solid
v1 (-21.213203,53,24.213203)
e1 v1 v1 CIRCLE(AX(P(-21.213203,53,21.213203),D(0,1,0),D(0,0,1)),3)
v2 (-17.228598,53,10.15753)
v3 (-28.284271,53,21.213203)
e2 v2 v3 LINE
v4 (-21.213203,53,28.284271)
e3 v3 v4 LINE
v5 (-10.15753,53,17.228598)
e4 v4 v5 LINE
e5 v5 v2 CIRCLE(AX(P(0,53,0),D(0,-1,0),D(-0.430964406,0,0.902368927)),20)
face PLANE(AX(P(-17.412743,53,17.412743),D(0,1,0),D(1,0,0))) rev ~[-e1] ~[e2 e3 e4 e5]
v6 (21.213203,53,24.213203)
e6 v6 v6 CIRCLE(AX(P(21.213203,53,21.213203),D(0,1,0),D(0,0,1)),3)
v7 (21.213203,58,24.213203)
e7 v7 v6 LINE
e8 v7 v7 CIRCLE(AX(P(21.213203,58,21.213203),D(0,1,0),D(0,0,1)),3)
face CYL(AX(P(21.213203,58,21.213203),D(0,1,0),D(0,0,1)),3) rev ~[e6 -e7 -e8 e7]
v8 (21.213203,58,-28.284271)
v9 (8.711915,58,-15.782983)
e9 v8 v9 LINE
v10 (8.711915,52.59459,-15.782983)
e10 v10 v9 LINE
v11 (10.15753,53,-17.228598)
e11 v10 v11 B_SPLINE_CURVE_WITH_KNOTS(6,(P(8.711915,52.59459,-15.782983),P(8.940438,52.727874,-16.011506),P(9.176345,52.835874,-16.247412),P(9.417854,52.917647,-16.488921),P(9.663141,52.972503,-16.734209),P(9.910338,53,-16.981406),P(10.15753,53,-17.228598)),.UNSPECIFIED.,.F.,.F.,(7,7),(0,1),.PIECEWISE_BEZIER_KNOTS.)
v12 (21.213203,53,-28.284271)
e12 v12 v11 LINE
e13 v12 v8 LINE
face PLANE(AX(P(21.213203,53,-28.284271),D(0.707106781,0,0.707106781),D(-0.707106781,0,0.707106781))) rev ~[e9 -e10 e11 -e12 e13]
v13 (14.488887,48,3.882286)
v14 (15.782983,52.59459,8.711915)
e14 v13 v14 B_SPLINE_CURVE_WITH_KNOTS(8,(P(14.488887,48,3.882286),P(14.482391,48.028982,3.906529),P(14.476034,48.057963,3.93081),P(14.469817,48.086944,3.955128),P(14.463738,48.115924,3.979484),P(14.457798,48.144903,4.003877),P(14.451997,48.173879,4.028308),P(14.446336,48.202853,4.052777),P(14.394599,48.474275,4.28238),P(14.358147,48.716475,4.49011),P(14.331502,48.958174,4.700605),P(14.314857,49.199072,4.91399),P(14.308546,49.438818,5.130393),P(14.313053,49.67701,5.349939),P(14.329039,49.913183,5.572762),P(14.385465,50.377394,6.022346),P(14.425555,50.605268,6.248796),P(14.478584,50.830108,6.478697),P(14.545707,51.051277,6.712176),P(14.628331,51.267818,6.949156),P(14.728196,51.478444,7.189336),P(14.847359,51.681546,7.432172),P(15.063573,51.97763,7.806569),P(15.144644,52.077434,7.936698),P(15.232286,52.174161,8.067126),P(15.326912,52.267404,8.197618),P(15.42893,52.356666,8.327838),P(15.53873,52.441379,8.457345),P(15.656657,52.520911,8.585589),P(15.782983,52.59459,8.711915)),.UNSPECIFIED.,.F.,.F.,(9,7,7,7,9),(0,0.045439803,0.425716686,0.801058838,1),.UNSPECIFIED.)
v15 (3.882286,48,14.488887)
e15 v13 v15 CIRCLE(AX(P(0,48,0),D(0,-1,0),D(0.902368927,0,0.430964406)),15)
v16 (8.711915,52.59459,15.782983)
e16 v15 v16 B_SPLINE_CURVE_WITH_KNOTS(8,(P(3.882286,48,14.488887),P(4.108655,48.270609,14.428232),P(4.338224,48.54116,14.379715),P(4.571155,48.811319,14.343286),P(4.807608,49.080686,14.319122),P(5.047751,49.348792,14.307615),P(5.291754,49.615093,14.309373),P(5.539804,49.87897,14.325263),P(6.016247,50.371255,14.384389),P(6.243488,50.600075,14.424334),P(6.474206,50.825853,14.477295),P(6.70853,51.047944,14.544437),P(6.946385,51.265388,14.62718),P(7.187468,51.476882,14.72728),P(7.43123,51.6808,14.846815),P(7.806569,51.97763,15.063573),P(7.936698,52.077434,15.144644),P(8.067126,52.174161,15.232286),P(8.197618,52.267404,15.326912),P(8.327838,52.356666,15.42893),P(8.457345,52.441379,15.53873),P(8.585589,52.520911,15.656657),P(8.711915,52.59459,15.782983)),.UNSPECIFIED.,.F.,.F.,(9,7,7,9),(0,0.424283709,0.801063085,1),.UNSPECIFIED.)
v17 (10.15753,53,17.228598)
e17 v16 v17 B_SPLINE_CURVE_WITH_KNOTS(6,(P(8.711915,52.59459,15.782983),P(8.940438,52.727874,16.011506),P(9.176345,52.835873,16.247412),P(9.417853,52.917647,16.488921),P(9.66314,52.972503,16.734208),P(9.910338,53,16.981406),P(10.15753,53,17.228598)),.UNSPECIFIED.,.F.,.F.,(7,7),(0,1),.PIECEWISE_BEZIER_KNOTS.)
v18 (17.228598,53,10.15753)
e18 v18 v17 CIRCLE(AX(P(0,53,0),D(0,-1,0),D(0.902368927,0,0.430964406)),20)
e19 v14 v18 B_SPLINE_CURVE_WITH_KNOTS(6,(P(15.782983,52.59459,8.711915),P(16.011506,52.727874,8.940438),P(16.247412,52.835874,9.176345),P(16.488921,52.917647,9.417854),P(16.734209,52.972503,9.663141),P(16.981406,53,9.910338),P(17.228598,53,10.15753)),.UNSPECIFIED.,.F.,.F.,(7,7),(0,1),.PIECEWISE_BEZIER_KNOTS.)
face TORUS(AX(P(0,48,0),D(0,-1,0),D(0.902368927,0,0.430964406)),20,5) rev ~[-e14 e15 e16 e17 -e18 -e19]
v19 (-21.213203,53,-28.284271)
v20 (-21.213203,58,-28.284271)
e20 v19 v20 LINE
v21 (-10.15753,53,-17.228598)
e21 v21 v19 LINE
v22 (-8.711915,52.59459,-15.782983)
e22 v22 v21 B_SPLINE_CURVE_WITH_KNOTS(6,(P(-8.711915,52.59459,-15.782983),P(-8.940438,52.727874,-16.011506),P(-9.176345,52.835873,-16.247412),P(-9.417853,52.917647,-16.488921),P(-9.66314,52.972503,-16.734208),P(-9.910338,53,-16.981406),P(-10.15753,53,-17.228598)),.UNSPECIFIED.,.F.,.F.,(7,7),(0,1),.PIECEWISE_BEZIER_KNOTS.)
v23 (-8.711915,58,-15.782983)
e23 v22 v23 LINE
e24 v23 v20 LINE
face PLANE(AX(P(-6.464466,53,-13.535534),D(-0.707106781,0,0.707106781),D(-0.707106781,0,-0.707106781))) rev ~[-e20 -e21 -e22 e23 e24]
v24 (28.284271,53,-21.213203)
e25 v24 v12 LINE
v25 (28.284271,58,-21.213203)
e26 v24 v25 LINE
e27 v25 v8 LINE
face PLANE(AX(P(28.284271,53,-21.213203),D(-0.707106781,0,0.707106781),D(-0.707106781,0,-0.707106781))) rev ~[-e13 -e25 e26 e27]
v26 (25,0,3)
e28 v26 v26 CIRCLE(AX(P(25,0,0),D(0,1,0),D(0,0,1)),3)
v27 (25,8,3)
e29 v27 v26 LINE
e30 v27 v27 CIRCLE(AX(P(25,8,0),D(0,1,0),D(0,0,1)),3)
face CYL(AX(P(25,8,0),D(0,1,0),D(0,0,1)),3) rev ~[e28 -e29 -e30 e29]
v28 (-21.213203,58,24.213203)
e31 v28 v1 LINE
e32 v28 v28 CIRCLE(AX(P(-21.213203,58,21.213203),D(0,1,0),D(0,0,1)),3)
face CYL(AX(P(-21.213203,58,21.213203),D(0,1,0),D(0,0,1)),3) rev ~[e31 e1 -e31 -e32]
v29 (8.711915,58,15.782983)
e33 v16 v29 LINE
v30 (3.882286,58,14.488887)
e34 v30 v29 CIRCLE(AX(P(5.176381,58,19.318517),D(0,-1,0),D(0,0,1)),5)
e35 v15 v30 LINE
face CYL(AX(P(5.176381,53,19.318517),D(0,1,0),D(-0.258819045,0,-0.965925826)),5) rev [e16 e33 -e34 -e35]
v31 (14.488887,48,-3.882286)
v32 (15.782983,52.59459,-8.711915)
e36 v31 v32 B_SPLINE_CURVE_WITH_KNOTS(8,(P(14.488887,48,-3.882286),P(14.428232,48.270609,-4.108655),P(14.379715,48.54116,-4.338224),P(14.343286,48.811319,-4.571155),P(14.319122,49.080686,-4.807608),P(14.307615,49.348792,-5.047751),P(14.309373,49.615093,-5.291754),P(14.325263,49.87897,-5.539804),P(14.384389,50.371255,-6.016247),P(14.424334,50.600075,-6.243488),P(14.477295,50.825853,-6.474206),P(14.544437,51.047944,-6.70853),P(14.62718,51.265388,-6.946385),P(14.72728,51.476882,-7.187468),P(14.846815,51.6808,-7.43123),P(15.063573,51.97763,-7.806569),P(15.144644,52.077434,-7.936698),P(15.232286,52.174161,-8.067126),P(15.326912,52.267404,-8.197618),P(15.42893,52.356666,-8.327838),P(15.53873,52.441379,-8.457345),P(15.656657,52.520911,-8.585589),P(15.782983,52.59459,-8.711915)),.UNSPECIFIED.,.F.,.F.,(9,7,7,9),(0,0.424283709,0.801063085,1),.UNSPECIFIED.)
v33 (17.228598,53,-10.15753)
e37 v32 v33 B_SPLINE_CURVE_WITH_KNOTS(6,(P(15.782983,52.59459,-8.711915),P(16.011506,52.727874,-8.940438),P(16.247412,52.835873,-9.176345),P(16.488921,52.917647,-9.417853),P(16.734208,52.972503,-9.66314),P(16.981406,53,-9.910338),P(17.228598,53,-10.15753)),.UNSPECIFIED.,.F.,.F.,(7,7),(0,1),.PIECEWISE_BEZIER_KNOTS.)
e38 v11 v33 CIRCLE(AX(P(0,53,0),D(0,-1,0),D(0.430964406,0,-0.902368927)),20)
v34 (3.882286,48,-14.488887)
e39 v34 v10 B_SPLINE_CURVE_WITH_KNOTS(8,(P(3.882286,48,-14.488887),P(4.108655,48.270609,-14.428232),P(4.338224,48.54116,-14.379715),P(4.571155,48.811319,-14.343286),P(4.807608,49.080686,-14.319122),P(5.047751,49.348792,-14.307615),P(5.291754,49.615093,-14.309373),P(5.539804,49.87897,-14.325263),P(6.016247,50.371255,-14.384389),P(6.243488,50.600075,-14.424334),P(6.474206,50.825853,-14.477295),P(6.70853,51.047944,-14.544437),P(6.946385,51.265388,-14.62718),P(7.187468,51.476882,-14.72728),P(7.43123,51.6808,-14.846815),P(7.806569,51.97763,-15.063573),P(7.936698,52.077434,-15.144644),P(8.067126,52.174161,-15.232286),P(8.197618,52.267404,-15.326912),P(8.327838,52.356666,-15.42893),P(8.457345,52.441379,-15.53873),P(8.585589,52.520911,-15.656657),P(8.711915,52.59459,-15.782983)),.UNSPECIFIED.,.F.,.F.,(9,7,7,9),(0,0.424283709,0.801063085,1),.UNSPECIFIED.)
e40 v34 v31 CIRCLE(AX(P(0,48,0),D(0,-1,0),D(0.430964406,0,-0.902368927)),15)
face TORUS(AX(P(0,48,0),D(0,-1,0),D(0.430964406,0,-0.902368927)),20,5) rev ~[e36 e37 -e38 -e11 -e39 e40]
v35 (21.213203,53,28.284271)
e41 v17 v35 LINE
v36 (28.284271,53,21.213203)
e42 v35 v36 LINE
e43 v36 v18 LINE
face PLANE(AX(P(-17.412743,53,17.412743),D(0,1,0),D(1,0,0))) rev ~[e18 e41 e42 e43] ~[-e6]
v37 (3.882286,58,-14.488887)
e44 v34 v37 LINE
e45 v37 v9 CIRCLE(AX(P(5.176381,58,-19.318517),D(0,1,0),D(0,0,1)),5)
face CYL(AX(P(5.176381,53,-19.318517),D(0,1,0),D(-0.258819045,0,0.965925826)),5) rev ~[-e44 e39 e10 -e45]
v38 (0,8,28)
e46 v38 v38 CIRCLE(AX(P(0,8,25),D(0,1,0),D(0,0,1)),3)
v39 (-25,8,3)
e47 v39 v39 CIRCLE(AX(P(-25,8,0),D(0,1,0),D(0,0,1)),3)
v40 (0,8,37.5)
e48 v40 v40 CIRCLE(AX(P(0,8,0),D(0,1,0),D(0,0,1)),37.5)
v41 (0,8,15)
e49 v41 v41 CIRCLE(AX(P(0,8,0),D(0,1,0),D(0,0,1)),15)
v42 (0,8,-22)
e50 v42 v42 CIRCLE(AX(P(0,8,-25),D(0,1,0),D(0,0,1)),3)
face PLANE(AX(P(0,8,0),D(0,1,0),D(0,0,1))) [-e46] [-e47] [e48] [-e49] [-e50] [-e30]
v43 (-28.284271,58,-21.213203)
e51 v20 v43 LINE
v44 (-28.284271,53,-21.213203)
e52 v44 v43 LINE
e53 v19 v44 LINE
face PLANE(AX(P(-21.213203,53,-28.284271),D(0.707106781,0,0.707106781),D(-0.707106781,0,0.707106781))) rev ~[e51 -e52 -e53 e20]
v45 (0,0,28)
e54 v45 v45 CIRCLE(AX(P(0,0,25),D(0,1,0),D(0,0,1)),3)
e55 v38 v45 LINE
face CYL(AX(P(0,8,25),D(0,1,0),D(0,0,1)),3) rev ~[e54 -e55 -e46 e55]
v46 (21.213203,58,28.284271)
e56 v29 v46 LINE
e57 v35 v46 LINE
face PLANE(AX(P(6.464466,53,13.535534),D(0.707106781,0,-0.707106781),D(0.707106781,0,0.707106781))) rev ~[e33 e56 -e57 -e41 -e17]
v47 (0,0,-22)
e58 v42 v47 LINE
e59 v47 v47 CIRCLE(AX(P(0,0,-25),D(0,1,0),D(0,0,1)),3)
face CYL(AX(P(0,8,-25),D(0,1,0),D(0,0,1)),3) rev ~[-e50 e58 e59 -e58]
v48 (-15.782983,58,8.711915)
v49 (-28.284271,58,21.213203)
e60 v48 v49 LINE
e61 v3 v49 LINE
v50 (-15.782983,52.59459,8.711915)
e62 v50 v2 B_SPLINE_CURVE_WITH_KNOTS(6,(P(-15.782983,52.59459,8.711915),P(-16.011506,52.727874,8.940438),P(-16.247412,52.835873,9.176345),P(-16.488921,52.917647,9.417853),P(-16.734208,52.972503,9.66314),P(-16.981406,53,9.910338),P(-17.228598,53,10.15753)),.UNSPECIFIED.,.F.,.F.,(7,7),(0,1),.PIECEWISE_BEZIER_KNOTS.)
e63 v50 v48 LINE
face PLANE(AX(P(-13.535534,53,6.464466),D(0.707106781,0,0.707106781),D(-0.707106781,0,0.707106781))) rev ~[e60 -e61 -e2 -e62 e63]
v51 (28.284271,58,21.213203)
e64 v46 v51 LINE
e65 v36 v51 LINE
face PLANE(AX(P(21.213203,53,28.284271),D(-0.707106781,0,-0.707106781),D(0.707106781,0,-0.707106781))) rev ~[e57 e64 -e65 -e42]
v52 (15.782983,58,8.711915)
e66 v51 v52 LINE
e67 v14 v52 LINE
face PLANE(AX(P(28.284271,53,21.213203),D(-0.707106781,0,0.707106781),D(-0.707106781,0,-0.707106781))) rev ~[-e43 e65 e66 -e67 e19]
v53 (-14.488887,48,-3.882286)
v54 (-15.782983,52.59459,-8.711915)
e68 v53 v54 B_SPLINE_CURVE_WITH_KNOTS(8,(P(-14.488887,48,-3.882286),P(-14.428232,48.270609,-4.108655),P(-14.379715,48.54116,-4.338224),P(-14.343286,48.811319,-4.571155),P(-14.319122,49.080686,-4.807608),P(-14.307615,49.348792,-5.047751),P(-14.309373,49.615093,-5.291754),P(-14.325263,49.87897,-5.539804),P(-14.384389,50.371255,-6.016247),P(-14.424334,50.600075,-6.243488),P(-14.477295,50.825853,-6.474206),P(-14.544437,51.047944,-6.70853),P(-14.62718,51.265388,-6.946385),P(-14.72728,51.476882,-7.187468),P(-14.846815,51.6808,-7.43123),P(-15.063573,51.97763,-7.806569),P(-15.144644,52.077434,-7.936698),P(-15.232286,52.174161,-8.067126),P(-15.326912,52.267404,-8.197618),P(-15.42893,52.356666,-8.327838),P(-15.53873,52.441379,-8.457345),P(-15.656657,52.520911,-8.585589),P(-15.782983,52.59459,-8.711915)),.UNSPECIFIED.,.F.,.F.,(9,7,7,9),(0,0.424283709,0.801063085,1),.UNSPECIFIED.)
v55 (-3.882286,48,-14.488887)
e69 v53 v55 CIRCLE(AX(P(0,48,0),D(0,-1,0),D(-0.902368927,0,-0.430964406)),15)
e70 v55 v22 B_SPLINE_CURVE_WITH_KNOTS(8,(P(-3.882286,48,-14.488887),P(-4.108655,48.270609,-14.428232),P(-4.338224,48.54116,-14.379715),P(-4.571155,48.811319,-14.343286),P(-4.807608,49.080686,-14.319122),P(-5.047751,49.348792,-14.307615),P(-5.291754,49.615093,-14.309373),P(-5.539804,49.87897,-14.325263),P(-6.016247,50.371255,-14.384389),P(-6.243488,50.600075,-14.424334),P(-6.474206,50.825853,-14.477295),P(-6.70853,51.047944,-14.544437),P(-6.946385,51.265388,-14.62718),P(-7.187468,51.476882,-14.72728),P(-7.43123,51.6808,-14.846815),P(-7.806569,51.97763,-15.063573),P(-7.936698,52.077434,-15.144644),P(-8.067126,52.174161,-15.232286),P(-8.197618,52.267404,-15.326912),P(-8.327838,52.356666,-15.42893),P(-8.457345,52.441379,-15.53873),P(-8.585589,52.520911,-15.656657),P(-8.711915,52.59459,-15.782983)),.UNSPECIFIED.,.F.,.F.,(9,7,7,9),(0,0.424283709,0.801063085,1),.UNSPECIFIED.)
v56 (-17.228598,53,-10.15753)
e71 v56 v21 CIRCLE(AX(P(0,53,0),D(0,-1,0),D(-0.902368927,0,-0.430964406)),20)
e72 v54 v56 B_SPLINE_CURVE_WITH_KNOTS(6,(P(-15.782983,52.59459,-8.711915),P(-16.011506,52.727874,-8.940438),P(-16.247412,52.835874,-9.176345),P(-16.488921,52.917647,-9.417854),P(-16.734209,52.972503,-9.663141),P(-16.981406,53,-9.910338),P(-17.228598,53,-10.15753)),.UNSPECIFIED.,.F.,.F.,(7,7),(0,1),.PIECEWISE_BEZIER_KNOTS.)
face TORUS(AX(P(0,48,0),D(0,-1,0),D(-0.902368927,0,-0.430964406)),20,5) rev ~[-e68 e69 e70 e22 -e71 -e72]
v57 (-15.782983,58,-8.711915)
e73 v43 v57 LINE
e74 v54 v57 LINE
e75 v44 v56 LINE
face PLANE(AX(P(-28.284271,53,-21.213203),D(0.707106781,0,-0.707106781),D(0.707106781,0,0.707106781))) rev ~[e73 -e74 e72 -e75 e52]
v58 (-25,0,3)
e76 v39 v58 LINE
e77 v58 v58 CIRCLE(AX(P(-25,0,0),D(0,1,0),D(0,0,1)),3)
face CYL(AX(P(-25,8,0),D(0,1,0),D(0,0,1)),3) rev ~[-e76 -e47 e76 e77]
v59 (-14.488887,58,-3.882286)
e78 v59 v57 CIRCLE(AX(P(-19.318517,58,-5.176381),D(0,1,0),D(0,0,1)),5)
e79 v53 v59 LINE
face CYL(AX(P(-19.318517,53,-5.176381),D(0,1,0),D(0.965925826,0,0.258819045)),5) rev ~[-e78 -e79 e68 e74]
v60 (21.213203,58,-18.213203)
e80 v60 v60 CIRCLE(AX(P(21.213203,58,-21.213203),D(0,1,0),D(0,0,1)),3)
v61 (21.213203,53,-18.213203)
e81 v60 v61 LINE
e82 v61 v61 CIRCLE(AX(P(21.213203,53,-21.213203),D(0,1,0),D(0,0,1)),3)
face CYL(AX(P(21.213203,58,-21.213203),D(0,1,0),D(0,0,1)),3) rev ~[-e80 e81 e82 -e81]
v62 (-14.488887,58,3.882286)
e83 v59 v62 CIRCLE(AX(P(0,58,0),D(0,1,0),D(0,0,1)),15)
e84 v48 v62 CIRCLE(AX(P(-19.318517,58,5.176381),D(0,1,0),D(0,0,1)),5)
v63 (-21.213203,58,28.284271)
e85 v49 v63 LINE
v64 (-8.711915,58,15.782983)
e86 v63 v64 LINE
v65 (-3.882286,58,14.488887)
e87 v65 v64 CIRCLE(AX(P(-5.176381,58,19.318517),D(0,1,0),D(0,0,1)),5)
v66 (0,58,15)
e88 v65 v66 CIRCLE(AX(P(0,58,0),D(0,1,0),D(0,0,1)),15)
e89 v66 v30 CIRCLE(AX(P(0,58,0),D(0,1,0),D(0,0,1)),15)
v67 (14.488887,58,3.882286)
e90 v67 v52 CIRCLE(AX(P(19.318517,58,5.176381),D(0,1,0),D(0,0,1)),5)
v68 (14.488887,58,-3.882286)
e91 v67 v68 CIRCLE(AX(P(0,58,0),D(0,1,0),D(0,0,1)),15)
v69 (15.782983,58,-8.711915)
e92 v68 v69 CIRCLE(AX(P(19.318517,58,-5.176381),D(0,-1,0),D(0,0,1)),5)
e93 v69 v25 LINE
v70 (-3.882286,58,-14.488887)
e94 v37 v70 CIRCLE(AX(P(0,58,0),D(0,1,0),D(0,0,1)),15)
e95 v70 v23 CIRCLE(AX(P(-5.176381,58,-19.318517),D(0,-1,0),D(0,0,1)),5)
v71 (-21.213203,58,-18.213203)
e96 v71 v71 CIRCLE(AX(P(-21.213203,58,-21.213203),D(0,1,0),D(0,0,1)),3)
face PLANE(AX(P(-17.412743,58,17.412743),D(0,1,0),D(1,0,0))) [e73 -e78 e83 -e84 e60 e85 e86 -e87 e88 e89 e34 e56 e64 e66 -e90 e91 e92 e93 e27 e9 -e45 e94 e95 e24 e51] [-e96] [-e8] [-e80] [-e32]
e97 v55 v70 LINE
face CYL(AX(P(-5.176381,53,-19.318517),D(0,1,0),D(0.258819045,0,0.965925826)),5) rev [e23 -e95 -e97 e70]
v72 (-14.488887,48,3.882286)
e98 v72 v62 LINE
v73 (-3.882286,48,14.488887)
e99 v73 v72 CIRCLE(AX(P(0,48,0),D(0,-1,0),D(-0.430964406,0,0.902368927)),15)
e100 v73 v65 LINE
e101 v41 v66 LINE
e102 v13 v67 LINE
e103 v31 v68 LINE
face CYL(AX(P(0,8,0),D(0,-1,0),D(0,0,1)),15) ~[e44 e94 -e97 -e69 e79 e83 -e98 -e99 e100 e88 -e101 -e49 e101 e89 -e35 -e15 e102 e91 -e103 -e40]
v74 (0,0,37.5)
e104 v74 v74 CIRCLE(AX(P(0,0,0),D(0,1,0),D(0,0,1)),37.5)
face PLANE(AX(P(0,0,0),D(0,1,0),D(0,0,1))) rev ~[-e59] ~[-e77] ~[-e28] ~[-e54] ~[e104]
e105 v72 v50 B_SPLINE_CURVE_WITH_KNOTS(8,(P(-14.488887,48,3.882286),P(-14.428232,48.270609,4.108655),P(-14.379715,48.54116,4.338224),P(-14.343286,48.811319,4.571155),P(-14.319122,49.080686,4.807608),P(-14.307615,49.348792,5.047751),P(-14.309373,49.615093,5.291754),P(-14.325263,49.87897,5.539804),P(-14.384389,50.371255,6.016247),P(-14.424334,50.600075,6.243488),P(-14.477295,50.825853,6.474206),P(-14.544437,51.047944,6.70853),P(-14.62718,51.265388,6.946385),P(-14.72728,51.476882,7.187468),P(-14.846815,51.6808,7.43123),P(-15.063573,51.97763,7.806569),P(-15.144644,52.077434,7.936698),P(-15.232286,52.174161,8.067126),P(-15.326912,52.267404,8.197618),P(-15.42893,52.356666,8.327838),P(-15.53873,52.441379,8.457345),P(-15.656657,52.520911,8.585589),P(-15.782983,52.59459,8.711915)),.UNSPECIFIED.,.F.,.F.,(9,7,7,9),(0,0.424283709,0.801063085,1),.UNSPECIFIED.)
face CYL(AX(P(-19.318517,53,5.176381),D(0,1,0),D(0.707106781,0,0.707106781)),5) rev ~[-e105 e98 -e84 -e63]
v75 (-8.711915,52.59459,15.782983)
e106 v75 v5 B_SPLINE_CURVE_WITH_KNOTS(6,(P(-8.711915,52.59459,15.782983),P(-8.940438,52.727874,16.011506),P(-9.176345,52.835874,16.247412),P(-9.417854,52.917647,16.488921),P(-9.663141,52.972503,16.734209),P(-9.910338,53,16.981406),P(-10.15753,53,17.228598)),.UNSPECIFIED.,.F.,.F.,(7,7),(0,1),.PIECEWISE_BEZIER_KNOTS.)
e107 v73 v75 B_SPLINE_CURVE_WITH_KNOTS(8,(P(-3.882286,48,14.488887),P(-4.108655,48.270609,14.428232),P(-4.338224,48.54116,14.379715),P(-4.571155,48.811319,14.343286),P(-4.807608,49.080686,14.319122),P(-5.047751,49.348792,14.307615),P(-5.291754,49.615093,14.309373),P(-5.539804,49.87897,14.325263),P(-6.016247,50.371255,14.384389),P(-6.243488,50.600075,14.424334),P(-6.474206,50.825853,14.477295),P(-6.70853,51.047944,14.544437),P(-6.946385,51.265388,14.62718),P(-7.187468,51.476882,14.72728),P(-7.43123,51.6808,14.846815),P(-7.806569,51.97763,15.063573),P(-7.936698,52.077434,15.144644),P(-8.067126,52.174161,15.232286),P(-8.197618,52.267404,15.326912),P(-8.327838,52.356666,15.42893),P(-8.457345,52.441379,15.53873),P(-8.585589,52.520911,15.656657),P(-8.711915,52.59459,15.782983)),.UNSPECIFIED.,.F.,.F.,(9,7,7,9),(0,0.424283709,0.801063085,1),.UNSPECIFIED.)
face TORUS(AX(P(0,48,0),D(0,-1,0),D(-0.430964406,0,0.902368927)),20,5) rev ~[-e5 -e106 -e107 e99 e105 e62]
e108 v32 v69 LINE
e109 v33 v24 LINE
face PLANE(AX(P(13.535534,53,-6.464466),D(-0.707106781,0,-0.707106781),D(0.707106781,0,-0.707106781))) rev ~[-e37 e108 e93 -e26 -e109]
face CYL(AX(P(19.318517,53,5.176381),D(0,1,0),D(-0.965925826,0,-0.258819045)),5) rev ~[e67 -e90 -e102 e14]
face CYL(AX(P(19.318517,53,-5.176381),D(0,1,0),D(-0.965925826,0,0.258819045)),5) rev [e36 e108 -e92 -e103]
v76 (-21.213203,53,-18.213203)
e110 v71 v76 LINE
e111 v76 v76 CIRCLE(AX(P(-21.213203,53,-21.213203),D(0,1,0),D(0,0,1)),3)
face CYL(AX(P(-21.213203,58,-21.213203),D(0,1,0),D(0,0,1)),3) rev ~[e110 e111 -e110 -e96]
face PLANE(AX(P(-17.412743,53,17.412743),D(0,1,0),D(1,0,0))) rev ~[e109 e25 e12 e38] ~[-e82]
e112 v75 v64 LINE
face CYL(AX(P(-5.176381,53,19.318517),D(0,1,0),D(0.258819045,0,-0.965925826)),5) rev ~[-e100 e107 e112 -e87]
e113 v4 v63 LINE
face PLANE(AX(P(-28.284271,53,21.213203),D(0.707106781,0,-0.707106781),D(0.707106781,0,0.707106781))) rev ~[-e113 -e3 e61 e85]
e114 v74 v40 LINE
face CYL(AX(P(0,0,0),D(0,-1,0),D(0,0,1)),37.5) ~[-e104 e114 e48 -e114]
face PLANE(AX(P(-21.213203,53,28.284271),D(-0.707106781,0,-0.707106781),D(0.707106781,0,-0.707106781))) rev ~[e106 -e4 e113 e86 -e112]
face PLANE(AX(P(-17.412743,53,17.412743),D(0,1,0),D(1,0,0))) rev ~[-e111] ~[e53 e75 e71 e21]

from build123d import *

# Parameters (mm, degrees)
SKETCH1_R           = 37.5
BOSS_EXTRUDE1_DEPTH = 8
SKETCH2_R           = 3
CUT_EXTRUDE1_DEPTH  = 54.633012222
SKETCH3_R           = 15
BOSS_EXTRUDE2_DEPTH = 50
BOSS_EXTRUDE4_START = -5
BOSS_EXTRUDE4_DEPTH = 5
CUT_EXTRUDE2_REACH  = 80.591
SKETCH5_R           = 3
FILLET1_R           = 5


with BuildPart() as part:
    # Sketch1 → Boss-Extrude1 (new body)
    with BuildSketch(Plane(origin=(0, 0, 0), x_dir=(1, 0, 0), z_dir=(0, 1, 0))):
        with Locations(Location((0, 0, 0), (0, 0, 270))):
            Circle(SKETCH1_R)
    extrude(amount=BOSS_EXTRUDE1_DEPTH)

    # Sketch2 → Cut-Extrude1 (cut, through all)
    with BuildSketch(Plane(origin=(0, 8, 0), x_dir=(1, 0, 0), z_dir=(0, 1, 0))):
        with Locations(Location((25, 0, 0), (0, 0, 270))):
            Circle(SKETCH2_R)
        with Locations(Location((0, 25, 0), (0, 0, 270))):
            Circle(SKETCH2_R)
        with Locations(Location((-25, 0, 0), (0, 0, 270))):
            Circle(SKETCH2_R)
        with Locations(Location((0, -25, 0), (0, 0, 270))):
            Circle(SKETCH2_R)
    extrude(amount=-CUT_EXTRUDE1_DEPTH, mode=Mode.SUBTRACT)

    # Sketch3 → Boss-Extrude2 (add)
    with BuildSketch(Plane(origin=(0, 8, 0), x_dir=(1, 0, 0), z_dir=(0, 1, 0))):
        with Locations(Location((0, 0, 0), (0, 0, 270))):
            Circle(SKETCH3_R)
    extrude(amount=BOSS_EXTRUDE2_DEPTH)

    # Sketch7 → Boss-Extrude4 (add)
    with BuildSketch(Plane(origin=(0, 58, 0), x_dir=(1, 0, 0), z_dir=(0, 1, 0)).offset(BOSS_EXTRUDE4_START)):
        with BuildLine():
            ThreePointArc((-6.464466094, -13.535533906), (-10.606601718, -10.606601718), (-13.535533906, -6.464466094))
            Line((-13.535533906, -6.464466094), (-28.284271247, -21.213203436))
            Line((-28.284271247, -21.213203436), (-21.213203436, -28.284271247))
            Line((-21.213203436, -28.284271247), (-6.464466094, -13.535533906))
        make_face()
        with BuildLine():
            Line((0, -7.071067812), (-7.071067812, 0))
            Line((-7.071067812, 0), (-13.535533906, -6.464466094))
            ThreePointArc((-13.535533906, -6.464466094), (-10.606601718, -10.606601718), (-6.464466094, -13.535533906))
            Line((-6.464466094, -13.535533906), (0, -7.071067812))
        make_face()
        with BuildLine():
            ThreePointArc((13.535533906, -6.464466094), (10.606601718, -10.606601718), (6.464466094, -13.535533906))
            Line((6.464466094, -13.535533906), (21.213203436, -28.284271247))
            Line((21.213203436, -28.284271247), (28.284271247, -21.213203436))
            Line((28.284271247, -21.213203436), (13.535533906, -6.464466094))
        make_face()
        Polygon((0, 7.071067812), (-7.071067812, 0), (0, -7.071067812), (7.071067812, 0), align=None)
        with BuildLine():
            Line((7.071067812, 0), (0, -7.071067812))
            Line((0, -7.071067812), (6.464466094, -13.535533906))
            ThreePointArc((6.464466094, -13.535533906), (10.606601718, -10.606601718), (13.535533906, -6.464466094))
            Line((13.535533906, -6.464466094), (7.071067812, 0))
        make_face()
        with BuildLine():
            Line((21.213203436, 28.284271247), (6.464466094, 13.535533906))
            ThreePointArc((6.464466094, 13.535533906), (10.606601718, 10.606601718), (13.535533906, 6.464466094))
            Line((13.535533906, 6.464466094), (28.284271247, 21.213203436))
            Line((28.284271247, 21.213203436), (21.213203436, 28.284271247))
        make_face()
        with BuildLine():
            Line((6.464466094, 13.535533906), (0, 7.071067812))
            Line((0, 7.071067812), (7.071067812, 0))
            Line((7.071067812, 0), (13.535533906, 6.464466094))
            ThreePointArc((13.535533906, 6.464466094), (10.606601718, 10.606601718), (6.464466094, 13.535533906))
        make_face()
        with BuildLine():
            Line((-21.213203436, 28.284271247), (-28.284271247, 21.213203436))
            Line((-28.284271247, 21.213203436), (-13.535533906, 6.464466094))
            ThreePointArc((-13.535533906, 6.464466094), (-10.606601718, 10.606601718), (-6.464466094, 13.535533906))
            Line((-6.464466094, 13.535533906), (-21.213203436, 28.284271247))
        make_face()
        with BuildLine():
            ThreePointArc((-6.464466094, 13.535533906), (-10.606601718, 10.606601718), (-13.535533906, 6.464466094))
            Line((-13.535533906, 6.464466094), (-7.071067812, 0))
            Line((-7.071067812, 0), (0, 7.071067812))
            Line((0, 7.071067812), (-6.464466094, 13.535533906))
        make_face()
    extrude(amount=BOSS_EXTRUDE4_DEPTH)

    # Sketch5 → Cut-Extrude2 (cut, up to next)
    with BuildSketch(Plane(origin=(0, 58, 0), x_dir=(1, 0, 0), z_dir=(0, 1, 0)), mode=Mode.PRIVATE) as cut_extrude2_sk1:
        with Locations(Location((21.213203436, -21.213203436, 0), (0, 0, 270))):
            Circle(SKETCH5_R)
    cut_extrude2_tool1 = extrude(cut_extrude2_sk1.sketch, amount=-CUT_EXTRUDE2_REACH, mode=Mode.PRIVATE) & part.part
    # Sketch5 → Cut-Extrude2 (cut, up to next)
    with BuildSketch(Plane(origin=(0, 58, 0), x_dir=(1, 0, 0), z_dir=(0, 1, 0)), mode=Mode.PRIVATE) as cut_extrude2_sk2:
        with Locations(Location((-21.213203436, 21.213203436, 0), (0, 0, 270))):
            Circle(SKETCH5_R)
    cut_extrude2_tool2 = extrude(cut_extrude2_sk2.sketch, amount=-CUT_EXTRUDE2_REACH, mode=Mode.PRIVATE) & part.part
    # Sketch5 → Cut-Extrude2 (cut, up to next)
    with BuildSketch(Plane(origin=(0, 58, 0), x_dir=(1, 0, 0), z_dir=(0, 1, 0)), mode=Mode.PRIVATE) as cut_extrude2_sk3:
        with Locations(Location((-21.213203436, -21.213203436, 0), (0, 0, 270))):
            Circle(SKETCH5_R)
    cut_extrude2_tool3 = extrude(cut_extrude2_sk3.sketch, amount=-CUT_EXTRUDE2_REACH, mode=Mode.PRIVATE) & part.part
    # Sketch5 → Cut-Extrude2 (cut, up to next)
    with BuildSketch(Plane(origin=(0, 58, 0), x_dir=(1, 0, 0), z_dir=(0, 1, 0)), mode=Mode.PRIVATE) as cut_extrude2_sk4:
        with Locations(Location((21.213203436, 21.213203436, 0), (0, 0, 270))):
            Circle(SKETCH5_R)
    cut_extrude2_tool4 = extrude(cut_extrude2_sk4.sketch, amount=-CUT_EXTRUDE2_REACH, mode=Mode.PRIVATE) & part.part
    add(cut_extrude2_tool1.solids().sort_by_distance((21.213203, 58, 21.213203))[0], mode=Mode.SUBTRACT)
    add(cut_extrude2_tool2.solids().sort_by_distance((-21.213203, 58, -21.213203))[0], mode=Mode.SUBTRACT)
    add(cut_extrude2_tool3.solids().sort_by_distance((-21.213203, 58, 21.213203))[0], mode=Mode.SUBTRACT)
    add(cut_extrude2_tool4.solids().sort_by_distance((21.213203, 58, -21.213203))[0], mode=Mode.SUBTRACT)

    # Fillet1
    fillet1_edges = [part.edges().sort_by_distance(p)[0] for p in [
        (-10.606601718, 53, 10.606601718),
        (-10.606601718, 53, -10.606601718),
        (10.606601718, 53, -10.606601718),
        (10.606601718, 53, 10.606601718),
        (13.535533906, 55.5, 6.464466094),
        (-13.535533906, 55.5, 6.464466094),
        (-6.464466094, 55.5, -13.535533906),
        (6.464466094, 55.5, -13.535533906),
        (6.464466094, 55.5, 13.535533906),
        (-6.464466094, 55.5, 13.535533906),
        (-13.535533906, 55.5, -6.464466094),
        (13.535533906, 55.5, -6.464466094),
    ]]
    fillet(fillet1_edges, radius=FILLET1_R)


solid = part.part
